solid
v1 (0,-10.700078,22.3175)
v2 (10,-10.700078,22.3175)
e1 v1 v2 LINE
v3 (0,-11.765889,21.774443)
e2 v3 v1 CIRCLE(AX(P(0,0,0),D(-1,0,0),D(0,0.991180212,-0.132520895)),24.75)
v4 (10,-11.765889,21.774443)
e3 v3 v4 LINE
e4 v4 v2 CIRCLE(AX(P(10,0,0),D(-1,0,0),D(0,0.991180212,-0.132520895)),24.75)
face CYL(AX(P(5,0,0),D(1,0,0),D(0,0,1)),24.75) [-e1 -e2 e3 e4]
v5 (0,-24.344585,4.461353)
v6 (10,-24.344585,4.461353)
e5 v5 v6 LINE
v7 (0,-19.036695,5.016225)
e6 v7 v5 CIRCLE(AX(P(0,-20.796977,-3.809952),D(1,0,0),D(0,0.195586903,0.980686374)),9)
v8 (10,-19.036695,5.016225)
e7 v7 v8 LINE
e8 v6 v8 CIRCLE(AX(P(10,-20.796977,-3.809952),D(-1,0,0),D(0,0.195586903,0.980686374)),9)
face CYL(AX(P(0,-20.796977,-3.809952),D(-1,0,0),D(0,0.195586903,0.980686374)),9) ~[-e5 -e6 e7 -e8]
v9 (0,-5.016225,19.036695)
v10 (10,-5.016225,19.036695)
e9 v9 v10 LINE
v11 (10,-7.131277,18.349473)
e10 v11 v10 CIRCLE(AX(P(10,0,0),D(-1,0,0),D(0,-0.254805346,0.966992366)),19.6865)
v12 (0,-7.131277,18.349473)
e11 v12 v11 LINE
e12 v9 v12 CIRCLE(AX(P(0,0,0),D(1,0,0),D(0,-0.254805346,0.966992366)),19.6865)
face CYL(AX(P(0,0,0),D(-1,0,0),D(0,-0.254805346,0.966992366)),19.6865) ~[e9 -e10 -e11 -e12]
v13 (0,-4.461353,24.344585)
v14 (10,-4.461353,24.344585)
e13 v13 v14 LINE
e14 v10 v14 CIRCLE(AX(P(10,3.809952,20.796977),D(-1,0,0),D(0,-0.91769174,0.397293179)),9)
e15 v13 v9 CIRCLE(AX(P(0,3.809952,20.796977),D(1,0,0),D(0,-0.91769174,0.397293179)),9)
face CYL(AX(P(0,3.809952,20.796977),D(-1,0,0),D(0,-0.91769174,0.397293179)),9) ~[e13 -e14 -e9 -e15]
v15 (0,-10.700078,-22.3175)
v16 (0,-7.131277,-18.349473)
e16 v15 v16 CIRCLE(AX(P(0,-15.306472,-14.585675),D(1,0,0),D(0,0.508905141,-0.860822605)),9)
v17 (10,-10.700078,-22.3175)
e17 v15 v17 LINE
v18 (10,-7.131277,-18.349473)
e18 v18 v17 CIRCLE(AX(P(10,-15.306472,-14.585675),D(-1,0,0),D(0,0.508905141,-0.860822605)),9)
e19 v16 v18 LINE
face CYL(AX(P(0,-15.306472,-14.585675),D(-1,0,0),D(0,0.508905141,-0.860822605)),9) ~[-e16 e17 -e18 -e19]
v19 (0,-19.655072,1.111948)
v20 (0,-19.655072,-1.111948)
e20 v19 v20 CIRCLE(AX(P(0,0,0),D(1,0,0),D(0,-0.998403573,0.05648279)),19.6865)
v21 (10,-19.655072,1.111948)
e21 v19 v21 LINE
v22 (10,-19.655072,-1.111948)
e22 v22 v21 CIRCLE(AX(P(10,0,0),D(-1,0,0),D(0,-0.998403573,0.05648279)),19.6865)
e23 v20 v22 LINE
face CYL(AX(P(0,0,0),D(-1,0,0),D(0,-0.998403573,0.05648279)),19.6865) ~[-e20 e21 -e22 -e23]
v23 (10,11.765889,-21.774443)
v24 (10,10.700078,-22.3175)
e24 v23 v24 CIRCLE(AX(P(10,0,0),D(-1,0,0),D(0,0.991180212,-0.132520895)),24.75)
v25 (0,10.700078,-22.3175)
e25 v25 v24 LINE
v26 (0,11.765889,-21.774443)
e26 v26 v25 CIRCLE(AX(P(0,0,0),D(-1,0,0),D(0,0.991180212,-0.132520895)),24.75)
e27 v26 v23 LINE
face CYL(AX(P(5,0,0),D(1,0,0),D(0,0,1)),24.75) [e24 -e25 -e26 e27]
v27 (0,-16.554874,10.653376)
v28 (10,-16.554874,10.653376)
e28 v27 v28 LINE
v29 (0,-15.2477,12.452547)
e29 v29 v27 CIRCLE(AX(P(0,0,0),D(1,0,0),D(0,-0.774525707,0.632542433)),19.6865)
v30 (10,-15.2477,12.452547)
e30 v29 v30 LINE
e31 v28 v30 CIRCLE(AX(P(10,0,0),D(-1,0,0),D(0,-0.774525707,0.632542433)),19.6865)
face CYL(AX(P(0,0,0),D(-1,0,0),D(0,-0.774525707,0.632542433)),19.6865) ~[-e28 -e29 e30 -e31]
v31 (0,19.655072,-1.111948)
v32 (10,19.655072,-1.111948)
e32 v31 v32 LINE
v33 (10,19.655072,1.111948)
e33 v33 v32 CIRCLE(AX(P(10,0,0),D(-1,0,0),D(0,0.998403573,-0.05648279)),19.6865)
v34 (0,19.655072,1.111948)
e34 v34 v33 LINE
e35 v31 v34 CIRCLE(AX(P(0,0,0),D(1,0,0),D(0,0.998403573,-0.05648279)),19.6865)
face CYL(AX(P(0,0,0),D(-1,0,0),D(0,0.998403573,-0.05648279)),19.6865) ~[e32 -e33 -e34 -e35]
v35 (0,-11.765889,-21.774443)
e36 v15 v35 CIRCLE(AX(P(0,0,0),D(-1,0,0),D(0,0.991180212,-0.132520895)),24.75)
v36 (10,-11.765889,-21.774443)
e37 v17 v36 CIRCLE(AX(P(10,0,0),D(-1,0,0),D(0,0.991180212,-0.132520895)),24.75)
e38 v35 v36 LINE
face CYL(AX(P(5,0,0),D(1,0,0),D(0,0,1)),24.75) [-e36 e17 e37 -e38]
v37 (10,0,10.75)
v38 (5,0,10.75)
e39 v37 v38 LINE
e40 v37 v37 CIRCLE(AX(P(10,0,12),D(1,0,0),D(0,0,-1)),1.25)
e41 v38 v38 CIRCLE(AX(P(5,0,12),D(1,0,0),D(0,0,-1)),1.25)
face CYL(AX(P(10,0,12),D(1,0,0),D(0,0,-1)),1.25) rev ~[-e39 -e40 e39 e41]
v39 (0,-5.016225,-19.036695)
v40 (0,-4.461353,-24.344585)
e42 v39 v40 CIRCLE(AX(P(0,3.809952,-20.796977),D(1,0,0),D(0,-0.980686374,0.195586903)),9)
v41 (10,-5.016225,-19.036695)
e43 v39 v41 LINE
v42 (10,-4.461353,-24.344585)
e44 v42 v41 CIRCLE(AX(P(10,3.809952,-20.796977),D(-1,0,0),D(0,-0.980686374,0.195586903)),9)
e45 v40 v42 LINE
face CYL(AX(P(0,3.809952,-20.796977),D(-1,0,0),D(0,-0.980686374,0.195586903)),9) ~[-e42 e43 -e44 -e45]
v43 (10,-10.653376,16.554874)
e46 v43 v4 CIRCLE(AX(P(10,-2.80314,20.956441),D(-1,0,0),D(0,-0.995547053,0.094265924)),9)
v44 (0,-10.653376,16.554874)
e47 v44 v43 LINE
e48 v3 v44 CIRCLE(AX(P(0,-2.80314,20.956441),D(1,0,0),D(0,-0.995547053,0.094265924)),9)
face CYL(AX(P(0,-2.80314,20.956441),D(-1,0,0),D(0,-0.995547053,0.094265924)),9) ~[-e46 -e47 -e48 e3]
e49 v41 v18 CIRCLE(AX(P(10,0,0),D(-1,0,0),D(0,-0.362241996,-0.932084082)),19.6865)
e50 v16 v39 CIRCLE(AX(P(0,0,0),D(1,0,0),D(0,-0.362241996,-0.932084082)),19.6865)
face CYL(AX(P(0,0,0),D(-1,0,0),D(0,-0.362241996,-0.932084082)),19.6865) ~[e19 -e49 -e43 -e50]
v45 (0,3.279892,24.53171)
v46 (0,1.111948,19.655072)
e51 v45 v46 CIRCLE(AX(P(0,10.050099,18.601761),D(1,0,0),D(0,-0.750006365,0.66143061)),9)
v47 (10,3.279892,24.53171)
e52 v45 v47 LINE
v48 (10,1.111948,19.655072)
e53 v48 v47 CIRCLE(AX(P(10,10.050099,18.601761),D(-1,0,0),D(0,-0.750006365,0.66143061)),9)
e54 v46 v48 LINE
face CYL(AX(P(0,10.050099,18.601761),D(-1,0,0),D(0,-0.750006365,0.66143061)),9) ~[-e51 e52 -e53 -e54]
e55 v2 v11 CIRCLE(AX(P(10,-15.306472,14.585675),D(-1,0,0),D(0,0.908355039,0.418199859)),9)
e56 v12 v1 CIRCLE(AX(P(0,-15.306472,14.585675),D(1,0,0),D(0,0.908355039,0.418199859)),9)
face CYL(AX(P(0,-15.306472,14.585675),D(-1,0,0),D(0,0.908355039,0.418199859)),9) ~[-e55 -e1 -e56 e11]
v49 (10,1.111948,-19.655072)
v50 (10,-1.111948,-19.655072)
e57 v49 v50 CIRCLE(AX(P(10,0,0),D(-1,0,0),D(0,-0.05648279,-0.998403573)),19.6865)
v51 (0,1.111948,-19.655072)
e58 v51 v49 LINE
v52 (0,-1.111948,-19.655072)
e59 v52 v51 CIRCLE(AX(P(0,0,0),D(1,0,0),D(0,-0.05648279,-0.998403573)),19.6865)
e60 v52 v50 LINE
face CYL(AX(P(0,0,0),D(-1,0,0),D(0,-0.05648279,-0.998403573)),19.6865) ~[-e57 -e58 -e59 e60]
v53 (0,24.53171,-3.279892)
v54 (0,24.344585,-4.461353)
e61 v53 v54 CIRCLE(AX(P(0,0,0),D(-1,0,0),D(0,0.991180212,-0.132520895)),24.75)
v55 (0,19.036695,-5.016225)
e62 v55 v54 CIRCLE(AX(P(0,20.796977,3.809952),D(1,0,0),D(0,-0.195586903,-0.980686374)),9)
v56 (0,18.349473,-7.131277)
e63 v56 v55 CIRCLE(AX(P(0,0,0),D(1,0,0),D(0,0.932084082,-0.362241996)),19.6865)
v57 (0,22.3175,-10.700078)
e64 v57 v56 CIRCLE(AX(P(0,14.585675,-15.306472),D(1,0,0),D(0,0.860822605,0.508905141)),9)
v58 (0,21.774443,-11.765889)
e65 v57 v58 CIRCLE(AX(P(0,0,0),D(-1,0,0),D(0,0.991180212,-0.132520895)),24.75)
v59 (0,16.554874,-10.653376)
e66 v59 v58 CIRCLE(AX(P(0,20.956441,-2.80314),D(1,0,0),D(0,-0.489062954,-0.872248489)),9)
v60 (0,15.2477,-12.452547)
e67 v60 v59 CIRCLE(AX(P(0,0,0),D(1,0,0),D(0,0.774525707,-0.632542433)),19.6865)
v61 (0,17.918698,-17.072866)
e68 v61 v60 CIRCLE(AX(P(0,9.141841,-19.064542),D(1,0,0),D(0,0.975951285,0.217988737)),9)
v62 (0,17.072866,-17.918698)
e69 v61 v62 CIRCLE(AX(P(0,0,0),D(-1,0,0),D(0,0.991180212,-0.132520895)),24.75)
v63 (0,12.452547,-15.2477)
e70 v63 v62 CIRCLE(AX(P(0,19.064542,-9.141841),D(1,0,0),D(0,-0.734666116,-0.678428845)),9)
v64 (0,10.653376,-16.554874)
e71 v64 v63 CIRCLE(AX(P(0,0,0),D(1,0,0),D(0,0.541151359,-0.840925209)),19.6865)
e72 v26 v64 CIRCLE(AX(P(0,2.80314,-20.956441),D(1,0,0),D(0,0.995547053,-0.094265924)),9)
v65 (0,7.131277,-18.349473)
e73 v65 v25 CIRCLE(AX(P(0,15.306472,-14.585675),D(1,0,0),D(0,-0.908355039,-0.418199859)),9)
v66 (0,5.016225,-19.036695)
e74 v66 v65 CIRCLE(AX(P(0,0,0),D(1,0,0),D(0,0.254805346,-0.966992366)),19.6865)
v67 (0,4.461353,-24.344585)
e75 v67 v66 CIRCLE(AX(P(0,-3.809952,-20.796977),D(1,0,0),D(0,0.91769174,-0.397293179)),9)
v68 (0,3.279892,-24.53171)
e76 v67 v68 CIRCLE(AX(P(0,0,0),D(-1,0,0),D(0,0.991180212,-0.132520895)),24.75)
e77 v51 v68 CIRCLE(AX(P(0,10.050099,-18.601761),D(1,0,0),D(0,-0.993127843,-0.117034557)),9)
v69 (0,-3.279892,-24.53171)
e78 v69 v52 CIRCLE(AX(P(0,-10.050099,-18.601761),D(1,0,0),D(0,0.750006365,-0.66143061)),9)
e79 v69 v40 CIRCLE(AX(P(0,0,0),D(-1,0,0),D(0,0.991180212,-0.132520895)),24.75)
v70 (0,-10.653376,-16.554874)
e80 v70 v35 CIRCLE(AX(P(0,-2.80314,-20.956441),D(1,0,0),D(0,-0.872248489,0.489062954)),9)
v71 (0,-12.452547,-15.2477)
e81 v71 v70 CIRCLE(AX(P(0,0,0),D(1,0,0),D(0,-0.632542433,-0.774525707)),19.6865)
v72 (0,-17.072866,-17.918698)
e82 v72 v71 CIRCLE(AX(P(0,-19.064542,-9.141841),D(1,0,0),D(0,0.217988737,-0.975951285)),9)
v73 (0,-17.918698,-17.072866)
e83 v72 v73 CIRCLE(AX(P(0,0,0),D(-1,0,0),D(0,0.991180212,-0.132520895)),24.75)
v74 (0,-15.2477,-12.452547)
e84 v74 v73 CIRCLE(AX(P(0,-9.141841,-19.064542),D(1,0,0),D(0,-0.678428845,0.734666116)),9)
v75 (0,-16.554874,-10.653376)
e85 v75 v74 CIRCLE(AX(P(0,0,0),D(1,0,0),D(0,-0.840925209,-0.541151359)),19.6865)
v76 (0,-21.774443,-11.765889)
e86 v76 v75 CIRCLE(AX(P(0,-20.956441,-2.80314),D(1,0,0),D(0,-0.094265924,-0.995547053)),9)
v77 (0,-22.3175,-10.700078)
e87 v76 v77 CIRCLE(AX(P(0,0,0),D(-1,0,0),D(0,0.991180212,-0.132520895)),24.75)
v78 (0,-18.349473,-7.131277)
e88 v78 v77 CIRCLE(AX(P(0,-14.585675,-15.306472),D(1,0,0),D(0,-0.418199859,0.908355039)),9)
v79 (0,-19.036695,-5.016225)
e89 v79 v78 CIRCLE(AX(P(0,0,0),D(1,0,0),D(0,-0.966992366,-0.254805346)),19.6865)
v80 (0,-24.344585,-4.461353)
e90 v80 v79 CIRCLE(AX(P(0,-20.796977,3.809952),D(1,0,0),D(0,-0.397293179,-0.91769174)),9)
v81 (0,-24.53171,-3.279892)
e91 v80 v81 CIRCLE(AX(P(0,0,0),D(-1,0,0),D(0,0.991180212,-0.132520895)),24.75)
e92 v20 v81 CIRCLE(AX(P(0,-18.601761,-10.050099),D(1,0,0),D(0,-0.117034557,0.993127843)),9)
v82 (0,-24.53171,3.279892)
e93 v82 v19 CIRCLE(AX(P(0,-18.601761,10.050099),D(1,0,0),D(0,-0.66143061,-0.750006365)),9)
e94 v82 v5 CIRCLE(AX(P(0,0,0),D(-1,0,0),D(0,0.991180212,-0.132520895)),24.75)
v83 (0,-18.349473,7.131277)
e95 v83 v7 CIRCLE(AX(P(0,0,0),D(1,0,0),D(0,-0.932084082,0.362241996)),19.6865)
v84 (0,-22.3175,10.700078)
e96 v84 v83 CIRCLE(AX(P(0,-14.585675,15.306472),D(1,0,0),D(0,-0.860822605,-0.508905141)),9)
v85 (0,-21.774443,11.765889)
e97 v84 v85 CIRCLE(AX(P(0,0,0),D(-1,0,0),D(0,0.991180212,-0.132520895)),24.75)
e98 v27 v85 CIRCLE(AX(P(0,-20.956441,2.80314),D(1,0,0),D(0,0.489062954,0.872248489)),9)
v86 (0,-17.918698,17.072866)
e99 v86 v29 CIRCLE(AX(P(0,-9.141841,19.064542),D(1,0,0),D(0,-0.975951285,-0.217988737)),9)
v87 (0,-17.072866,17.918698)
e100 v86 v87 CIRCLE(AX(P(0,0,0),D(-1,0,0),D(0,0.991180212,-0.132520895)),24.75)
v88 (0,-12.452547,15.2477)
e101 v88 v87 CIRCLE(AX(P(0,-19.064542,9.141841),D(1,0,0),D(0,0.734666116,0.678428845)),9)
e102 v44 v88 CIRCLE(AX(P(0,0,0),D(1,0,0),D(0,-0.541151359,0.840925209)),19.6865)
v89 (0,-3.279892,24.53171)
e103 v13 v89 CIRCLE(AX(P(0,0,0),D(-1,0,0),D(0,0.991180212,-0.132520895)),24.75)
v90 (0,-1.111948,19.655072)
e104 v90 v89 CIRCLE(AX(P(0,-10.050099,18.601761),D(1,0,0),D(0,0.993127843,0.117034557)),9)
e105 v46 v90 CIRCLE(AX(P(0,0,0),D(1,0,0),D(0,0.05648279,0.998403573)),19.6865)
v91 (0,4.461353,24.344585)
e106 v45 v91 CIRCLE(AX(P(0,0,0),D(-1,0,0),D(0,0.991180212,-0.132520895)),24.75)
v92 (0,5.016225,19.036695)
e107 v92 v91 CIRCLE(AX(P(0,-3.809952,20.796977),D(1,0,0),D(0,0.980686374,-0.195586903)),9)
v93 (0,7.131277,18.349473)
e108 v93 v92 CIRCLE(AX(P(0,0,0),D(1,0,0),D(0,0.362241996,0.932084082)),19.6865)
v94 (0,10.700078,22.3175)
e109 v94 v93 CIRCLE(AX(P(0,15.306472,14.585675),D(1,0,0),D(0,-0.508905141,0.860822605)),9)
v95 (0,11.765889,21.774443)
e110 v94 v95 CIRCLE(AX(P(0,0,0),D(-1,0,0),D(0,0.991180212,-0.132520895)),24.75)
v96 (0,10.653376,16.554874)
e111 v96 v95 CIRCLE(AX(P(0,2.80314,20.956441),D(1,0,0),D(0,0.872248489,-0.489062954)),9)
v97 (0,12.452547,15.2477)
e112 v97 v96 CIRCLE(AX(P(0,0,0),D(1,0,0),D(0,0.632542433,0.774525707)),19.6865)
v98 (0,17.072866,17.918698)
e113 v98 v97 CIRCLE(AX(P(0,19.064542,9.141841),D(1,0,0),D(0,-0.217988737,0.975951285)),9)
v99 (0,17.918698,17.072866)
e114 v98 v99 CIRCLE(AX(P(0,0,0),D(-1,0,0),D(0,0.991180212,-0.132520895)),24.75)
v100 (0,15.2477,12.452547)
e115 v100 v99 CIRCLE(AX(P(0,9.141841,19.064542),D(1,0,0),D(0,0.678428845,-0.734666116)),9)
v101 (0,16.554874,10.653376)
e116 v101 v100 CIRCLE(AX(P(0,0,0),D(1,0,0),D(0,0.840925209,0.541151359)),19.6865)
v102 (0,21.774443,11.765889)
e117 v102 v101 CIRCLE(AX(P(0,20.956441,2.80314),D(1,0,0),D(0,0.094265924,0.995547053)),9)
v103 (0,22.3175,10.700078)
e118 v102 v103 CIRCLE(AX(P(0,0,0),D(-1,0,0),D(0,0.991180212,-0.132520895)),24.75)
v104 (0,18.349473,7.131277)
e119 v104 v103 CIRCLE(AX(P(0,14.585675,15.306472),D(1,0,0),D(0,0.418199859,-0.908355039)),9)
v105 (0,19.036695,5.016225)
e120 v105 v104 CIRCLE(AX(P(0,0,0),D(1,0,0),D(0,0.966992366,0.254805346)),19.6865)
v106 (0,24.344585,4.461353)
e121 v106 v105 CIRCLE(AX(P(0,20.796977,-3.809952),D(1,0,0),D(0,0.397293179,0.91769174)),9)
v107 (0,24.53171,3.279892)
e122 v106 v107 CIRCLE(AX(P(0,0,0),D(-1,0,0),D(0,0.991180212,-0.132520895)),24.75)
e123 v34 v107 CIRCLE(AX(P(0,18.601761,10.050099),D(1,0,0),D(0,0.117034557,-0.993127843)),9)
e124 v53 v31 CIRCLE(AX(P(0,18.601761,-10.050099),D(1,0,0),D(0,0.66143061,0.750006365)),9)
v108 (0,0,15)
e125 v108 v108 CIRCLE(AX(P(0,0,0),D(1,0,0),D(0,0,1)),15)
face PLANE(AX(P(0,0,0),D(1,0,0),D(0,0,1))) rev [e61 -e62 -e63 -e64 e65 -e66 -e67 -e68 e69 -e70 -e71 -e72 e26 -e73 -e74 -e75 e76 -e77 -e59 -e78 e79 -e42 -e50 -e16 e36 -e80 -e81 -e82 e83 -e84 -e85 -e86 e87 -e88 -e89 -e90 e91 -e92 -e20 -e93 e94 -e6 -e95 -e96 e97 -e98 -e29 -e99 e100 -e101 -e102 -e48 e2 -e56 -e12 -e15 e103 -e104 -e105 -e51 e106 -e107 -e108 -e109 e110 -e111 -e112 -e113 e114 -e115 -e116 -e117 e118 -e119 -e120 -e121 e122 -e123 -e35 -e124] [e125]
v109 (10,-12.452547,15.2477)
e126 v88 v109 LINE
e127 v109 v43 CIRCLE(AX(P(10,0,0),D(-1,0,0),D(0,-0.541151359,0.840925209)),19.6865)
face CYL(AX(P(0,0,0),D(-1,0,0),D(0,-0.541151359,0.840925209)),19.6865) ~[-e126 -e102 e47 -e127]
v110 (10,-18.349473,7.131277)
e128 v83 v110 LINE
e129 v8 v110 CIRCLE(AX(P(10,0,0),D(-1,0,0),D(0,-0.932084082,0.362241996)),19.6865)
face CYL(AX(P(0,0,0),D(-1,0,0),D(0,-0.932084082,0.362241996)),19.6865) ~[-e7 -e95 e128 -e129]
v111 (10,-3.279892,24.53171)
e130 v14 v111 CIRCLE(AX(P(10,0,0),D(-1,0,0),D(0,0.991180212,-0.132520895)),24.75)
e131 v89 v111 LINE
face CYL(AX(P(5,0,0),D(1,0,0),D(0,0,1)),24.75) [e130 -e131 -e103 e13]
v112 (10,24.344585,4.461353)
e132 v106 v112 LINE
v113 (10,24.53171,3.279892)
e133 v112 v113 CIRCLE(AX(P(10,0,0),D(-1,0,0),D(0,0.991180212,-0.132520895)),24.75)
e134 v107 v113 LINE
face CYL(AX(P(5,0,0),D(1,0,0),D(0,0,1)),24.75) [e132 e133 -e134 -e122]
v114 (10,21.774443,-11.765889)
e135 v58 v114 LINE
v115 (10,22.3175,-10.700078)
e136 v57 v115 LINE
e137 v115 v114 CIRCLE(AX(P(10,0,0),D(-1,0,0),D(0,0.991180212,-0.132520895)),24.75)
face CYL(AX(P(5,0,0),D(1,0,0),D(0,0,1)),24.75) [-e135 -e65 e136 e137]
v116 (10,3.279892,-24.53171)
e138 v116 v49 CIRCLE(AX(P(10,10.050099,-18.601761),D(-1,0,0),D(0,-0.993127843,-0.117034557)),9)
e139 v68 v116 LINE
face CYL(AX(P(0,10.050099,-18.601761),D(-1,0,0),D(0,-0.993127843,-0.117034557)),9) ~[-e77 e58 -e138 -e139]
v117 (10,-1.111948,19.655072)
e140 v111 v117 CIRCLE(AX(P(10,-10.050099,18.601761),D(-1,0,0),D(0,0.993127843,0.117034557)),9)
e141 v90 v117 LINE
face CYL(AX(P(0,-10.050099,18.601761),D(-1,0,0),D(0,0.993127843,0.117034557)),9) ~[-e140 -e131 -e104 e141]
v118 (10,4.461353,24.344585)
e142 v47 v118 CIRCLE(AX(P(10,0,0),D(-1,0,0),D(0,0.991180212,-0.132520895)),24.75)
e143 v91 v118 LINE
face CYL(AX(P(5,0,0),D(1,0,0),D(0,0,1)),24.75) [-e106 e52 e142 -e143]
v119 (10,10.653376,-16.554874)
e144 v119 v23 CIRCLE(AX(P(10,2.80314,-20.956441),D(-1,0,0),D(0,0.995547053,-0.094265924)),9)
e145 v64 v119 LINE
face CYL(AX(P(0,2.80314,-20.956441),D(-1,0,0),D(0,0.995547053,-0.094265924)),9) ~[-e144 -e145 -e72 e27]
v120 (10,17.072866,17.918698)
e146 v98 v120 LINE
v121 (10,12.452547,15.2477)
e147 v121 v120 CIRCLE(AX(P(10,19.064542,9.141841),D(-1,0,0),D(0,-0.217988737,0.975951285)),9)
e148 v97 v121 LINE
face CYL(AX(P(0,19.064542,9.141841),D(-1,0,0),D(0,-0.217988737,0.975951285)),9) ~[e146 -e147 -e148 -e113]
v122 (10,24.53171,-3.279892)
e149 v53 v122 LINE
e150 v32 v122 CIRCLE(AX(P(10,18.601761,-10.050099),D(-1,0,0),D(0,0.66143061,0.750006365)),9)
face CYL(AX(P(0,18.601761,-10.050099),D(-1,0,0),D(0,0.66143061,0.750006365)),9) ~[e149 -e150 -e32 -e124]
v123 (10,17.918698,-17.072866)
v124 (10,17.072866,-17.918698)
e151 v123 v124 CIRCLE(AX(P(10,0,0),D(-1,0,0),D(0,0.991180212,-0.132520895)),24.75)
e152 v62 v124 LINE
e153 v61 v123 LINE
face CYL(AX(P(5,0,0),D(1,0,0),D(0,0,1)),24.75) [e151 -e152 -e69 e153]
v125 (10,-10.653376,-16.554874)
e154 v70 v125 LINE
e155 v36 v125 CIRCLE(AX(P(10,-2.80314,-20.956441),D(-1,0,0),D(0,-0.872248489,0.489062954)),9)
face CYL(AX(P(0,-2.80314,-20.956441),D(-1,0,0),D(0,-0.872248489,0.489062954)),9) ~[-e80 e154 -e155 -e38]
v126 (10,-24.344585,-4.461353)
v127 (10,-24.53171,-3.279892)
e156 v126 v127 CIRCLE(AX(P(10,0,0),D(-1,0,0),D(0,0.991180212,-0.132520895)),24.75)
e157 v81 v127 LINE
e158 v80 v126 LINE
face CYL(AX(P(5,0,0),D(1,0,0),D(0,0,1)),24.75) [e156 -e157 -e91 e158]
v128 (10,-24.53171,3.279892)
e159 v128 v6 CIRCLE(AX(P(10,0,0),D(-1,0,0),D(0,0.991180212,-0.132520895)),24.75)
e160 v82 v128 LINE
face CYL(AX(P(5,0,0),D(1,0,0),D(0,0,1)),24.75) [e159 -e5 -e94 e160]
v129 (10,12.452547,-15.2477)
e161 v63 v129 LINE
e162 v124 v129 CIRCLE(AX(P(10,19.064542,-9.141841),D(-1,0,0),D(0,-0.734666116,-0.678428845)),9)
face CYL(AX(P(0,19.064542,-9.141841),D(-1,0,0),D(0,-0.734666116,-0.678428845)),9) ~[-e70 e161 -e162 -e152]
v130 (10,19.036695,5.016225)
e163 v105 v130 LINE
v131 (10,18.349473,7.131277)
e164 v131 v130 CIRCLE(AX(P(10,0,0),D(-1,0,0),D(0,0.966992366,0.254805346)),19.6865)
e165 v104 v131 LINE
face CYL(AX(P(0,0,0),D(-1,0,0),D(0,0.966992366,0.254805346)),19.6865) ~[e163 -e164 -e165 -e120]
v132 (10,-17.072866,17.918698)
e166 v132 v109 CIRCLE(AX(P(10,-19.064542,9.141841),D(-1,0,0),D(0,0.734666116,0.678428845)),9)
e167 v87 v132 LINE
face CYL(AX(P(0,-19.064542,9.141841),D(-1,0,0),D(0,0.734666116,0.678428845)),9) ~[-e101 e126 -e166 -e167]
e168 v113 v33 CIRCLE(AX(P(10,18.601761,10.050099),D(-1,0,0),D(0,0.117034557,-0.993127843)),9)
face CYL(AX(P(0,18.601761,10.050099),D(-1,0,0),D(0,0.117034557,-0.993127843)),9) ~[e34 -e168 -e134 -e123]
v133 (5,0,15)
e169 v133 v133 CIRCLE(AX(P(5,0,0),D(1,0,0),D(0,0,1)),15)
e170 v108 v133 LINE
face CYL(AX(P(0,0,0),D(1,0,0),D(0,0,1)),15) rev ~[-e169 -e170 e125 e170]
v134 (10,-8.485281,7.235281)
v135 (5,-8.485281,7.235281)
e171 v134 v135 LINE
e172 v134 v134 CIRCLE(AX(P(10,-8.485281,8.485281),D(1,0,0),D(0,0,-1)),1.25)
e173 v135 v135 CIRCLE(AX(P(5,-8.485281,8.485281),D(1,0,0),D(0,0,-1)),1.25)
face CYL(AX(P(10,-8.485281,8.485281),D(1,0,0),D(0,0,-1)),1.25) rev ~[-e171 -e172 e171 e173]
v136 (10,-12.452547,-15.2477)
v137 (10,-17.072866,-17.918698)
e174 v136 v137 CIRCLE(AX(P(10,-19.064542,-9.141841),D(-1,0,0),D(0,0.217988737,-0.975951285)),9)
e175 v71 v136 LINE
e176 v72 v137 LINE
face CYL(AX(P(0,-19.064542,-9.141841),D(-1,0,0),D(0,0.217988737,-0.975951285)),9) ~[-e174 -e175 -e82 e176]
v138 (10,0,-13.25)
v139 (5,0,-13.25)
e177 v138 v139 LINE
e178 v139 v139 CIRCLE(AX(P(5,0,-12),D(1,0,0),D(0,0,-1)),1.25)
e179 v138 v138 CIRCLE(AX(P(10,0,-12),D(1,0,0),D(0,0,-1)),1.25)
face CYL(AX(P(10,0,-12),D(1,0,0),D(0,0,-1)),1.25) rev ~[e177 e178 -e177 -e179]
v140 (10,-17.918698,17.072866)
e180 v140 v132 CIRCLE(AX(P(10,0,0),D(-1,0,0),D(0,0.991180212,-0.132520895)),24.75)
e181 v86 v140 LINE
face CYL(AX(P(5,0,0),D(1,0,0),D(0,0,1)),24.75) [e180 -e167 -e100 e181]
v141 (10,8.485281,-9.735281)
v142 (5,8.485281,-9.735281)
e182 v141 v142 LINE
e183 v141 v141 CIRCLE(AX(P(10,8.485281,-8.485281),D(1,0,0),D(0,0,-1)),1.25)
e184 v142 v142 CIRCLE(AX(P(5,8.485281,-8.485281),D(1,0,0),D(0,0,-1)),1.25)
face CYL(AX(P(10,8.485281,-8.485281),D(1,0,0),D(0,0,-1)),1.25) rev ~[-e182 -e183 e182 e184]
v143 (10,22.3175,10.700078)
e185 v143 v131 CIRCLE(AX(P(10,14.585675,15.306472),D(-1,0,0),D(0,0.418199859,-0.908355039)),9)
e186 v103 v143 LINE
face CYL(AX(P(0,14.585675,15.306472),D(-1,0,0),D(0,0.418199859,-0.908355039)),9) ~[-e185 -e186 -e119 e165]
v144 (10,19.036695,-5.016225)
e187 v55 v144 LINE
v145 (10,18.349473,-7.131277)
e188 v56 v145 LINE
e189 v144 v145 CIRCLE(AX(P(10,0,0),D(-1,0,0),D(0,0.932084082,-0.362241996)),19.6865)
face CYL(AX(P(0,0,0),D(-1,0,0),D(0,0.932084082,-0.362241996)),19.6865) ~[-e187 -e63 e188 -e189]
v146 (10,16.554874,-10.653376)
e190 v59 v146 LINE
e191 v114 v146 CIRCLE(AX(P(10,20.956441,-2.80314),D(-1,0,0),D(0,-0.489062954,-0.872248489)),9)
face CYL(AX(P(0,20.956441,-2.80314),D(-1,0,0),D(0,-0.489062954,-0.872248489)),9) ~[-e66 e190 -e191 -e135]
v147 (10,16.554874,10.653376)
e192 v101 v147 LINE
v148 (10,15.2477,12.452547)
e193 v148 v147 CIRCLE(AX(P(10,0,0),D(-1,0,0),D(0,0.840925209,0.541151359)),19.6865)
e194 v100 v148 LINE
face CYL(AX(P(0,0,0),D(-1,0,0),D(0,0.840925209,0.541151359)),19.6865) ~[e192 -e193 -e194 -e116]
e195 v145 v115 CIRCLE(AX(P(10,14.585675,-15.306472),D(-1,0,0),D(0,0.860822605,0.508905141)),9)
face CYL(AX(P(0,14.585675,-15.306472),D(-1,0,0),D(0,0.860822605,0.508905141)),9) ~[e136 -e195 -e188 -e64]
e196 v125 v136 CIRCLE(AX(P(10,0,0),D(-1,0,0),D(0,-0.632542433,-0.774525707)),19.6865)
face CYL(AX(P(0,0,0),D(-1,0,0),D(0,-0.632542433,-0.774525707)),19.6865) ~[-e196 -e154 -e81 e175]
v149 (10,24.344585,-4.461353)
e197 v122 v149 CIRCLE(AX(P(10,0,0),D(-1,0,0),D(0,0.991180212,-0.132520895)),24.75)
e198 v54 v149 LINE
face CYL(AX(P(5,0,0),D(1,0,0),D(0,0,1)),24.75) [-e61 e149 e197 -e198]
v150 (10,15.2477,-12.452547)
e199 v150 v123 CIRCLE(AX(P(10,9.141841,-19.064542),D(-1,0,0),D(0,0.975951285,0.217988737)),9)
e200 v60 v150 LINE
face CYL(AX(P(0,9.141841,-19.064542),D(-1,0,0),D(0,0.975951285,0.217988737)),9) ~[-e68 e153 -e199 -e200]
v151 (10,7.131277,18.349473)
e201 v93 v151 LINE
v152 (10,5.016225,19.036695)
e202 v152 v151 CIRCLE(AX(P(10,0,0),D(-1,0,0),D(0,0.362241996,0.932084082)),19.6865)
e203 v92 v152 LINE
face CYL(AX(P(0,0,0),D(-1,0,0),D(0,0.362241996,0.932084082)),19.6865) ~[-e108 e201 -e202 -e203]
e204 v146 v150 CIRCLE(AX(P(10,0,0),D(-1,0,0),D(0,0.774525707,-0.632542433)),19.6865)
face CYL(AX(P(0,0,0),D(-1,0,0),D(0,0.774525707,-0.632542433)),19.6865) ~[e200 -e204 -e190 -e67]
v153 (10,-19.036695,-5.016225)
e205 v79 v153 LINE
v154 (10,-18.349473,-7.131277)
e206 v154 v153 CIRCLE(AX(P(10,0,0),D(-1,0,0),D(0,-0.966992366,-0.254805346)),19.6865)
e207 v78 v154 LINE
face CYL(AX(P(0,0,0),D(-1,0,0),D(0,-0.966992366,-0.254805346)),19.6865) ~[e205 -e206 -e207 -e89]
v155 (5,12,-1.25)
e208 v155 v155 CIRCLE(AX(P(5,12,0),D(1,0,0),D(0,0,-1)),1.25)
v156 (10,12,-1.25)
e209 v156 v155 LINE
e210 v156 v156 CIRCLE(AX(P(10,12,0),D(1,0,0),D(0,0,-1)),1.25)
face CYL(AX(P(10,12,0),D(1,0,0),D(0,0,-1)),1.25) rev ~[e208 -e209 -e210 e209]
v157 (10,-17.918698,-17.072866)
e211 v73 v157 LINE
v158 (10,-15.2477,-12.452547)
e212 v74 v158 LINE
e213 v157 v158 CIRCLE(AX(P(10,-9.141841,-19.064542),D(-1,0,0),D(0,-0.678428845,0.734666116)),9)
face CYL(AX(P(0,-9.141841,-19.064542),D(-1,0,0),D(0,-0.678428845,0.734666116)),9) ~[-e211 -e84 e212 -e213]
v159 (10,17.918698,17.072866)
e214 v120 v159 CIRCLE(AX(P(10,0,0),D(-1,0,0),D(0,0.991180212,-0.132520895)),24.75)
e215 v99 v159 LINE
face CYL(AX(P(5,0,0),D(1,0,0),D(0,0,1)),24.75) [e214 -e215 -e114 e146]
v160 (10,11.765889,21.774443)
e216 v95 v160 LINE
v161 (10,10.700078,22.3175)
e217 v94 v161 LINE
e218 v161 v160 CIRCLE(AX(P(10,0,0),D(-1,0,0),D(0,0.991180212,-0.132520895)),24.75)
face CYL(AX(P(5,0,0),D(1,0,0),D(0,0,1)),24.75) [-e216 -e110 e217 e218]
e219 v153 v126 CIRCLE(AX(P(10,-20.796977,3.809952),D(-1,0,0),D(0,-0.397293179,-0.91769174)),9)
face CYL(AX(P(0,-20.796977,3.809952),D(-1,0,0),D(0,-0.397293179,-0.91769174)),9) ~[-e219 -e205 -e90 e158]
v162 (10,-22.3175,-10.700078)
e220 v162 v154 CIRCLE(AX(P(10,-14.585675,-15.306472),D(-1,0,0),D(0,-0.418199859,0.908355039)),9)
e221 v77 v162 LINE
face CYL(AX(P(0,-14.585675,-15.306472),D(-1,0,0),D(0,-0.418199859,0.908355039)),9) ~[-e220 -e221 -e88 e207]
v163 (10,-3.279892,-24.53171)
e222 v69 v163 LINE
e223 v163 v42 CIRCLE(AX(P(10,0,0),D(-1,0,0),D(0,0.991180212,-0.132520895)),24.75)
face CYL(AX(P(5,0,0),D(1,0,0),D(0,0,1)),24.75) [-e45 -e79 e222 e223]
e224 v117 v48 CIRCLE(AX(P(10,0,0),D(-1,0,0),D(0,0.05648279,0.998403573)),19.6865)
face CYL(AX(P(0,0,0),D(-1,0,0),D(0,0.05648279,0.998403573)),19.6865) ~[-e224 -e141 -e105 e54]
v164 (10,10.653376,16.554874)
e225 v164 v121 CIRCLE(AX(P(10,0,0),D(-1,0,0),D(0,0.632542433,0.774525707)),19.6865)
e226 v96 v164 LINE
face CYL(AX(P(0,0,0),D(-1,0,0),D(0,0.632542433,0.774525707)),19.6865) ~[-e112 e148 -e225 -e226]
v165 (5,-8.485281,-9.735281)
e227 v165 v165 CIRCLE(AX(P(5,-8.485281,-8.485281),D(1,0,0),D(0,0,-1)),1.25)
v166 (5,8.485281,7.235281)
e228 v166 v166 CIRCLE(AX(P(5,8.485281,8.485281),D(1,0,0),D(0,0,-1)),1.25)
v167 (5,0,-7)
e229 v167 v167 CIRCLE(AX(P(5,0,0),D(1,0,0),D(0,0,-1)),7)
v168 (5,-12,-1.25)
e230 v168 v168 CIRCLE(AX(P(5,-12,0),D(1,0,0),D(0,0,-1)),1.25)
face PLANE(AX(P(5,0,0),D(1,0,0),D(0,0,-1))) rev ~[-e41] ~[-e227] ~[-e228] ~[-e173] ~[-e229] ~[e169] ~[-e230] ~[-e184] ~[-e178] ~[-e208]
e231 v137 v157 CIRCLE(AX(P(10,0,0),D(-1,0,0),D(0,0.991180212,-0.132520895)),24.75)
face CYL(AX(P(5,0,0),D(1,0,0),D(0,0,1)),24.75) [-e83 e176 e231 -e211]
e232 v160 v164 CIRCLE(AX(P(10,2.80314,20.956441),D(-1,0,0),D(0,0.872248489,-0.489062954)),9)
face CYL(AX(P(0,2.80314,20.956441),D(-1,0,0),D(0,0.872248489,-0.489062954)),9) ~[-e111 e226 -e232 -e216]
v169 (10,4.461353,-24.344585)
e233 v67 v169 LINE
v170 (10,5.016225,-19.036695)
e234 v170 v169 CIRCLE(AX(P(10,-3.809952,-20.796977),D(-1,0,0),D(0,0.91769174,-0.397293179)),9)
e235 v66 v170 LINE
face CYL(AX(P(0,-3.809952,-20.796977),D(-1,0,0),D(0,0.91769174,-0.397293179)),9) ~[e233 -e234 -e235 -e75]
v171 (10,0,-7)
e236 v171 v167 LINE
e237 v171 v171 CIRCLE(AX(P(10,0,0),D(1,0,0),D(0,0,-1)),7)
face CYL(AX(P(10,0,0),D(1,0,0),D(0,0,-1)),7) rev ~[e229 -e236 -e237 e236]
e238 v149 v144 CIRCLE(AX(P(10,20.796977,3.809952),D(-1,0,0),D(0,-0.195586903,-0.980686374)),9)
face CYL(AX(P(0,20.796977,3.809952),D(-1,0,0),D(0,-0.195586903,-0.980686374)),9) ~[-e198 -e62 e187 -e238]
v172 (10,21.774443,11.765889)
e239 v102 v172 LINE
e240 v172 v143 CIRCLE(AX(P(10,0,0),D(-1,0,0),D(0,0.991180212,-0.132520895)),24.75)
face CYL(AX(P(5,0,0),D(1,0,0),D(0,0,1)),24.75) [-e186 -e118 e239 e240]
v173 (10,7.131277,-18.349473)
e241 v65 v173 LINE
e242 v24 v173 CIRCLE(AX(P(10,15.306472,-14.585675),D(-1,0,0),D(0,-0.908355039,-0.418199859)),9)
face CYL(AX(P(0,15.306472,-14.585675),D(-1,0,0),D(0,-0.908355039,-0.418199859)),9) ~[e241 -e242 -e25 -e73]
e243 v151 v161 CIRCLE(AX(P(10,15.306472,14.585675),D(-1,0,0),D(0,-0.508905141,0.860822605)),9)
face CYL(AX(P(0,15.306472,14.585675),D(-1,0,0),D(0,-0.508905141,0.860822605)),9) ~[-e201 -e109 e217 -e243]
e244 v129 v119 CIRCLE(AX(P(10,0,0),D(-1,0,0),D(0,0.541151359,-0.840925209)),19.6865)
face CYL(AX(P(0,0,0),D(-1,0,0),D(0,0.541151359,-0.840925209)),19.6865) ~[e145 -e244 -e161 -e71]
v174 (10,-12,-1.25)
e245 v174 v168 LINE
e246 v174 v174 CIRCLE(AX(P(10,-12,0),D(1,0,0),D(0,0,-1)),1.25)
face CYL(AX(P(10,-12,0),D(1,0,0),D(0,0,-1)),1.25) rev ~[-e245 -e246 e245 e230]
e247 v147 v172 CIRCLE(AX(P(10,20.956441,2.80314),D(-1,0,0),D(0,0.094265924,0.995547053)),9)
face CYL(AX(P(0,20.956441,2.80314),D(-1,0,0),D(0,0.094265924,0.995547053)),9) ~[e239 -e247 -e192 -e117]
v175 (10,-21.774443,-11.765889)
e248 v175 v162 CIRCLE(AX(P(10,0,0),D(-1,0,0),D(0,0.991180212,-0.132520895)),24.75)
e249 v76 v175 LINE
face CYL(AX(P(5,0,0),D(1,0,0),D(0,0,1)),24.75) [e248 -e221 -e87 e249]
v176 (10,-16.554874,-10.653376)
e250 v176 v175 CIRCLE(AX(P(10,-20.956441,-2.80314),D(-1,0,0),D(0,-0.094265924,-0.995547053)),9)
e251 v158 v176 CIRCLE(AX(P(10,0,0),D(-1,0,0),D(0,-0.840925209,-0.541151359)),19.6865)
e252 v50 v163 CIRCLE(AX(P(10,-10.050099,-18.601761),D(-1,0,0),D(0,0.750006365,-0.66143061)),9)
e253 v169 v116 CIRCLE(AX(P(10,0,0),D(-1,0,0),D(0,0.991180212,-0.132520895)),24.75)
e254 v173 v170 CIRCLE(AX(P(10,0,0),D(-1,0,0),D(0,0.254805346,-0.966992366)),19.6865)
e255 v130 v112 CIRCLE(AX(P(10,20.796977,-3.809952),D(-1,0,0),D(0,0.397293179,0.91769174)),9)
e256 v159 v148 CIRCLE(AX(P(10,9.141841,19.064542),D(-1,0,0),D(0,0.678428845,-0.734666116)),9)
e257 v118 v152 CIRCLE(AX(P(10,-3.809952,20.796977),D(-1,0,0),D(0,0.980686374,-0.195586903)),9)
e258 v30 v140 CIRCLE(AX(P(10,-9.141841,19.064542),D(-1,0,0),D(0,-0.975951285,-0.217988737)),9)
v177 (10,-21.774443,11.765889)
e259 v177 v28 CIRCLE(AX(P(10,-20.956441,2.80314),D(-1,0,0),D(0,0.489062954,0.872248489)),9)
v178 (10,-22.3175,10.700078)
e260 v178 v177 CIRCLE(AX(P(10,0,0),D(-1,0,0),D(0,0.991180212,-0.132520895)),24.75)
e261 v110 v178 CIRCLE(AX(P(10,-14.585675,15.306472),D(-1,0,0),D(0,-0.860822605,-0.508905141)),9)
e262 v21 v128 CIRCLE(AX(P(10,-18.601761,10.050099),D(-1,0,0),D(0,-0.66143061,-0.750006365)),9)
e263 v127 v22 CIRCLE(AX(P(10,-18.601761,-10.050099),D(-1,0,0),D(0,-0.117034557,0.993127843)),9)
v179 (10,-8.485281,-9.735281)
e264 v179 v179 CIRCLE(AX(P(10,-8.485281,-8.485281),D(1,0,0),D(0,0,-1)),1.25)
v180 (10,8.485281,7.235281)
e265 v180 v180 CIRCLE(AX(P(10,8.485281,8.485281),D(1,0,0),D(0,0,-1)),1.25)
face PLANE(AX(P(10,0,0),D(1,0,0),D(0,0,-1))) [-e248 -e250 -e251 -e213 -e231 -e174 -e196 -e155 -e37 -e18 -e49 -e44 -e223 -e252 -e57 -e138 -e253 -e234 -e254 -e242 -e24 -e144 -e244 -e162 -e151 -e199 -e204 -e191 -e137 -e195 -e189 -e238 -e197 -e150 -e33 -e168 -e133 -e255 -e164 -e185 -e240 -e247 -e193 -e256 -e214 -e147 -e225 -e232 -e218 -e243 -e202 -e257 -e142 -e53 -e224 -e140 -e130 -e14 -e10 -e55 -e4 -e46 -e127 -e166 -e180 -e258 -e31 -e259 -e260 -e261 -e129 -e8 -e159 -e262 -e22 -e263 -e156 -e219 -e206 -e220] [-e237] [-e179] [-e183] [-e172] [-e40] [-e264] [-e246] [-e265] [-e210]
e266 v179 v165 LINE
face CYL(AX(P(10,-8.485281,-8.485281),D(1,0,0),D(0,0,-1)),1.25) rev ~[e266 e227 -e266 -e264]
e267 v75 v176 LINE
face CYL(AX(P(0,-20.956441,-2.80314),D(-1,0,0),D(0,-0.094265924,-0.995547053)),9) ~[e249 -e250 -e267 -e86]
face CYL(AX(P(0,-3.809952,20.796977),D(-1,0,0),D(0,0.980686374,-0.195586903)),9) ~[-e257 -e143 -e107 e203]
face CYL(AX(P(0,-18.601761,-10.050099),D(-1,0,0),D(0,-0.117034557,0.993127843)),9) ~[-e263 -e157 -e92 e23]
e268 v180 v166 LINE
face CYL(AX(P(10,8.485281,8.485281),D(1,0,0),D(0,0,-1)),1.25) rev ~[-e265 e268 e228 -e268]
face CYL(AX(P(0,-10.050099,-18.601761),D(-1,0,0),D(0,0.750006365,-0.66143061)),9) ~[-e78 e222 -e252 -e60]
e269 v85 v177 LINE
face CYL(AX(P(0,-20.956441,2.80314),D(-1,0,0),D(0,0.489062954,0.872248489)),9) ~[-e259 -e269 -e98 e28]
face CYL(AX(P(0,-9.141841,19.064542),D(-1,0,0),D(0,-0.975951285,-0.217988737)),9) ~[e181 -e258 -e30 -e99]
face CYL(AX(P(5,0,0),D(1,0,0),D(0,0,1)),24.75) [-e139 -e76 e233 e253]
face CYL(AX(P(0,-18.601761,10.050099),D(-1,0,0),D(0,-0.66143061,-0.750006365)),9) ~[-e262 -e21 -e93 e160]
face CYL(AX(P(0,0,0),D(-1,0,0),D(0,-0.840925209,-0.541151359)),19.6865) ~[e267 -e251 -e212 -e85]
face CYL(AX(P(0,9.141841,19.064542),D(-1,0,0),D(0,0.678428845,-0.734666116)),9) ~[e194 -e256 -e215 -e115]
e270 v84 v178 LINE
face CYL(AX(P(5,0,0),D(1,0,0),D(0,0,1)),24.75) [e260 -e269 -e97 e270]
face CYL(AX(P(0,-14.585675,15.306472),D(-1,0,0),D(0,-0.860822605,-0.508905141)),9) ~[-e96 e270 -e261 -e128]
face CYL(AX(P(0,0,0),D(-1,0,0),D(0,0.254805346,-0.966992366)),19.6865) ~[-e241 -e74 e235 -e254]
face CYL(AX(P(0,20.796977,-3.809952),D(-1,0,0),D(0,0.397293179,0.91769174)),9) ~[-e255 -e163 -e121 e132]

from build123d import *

# Parameters (mm, degrees)
BASPROSKE_W         = 10
BASPROSKE_H         = 24.75
TOOTHCUT_DEPTH      = 37.402266413
TEETHCUTS_COUNT     = 20
TEETHCUTS_ANGLE     = 342
BORSKE_R            = 15
BORE_DEPTH          = 50.0000508
SKETCH1_R           = 15
BOSS_EXTRUDE1_DEPTH = 5
SKETCH2_R           = 7
CUT_EXTRUDE1_DEPTH  = 5
SKETCH3_R           = 1.25
CUT_EXTRUDE2_DEPTH  = 5


with BuildPart() as part:
    # BasProSke → Base-Revolve (revolve)
    with BuildSketch(Plane(origin=(0, 0, 0), x_dir=(1, 0, 0), z_dir=(0, 1, 0)), mode=Mode.PRIVATE) as base_revolve_sk:
        with Locations((5, 12.375)):
            Rectangle(BASPROSKE_W, BASPROSKE_H)
    revolve(base_revolve_sk.sketch.rotate(Axis((-10, 0, 0), (1, 0, 0)), 180), axis=Axis((-10, 0, 0), (1, 0, 0)))

    # TooCutSke → ToothCut (cut, through all)
    with BuildSketch(Plane(origin=(0, 0, 0), x_dir=(0, 0, -1), z_dir=(1, 0, 0))):
        with BuildLine():
            ThreePointArc((1.111948432, 19.655071939), (0, 19.6865), (-1.111948432, 19.655071939))
            ThreePointArc((-1.111948432, 19.655071939), (-1.832349961, 22.271720111), (-3.300041734, 24.55463642))
            ThreePointArc((-3.300041734, 24.55463642), (0, 24.7754), (3.300041734, 24.55463642))
            ThreePointArc((3.300041734, 24.55463642), (1.832349961, 22.271720111), (1.111948432, 19.655071939))
        make_face()
    toothcut = extrude(amount=TOOTHCUT_DEPTH, mode=Mode.SUBTRACT)

    # TeethCuts: ToothCut ×20 about axis
    teethcuts_axis = Axis((-10, 0, 0), (1, 0, 0))
    for i in range(1, TEETHCUTS_COUNT):
        add(toothcut.rotate(teethcuts_axis, i * TEETHCUTS_ANGLE / (TEETHCUTS_COUNT - 1)), mode=Mode.SUBTRACT)

    # BorSke → Bore (cut, symmetric)
    with BuildSketch(Plane(origin=(0, 0, 0), x_dir=(0, 0, -1), z_dir=(1, 0, 0))):
        with Locations(Location((0, 0, 0), (0, 0, 180))):
            Circle(BORSKE_R)
    extrude(amount=BORE_DEPTH, both=True, mode=Mode.SUBTRACT)

    # Sketch1 → Boss-Extrude1 (add)
    with BuildSketch(Plane(origin=(10, 0, 0), x_dir=(0, 0, -1), z_dir=(1, 0, 0))):
        Circle(SKETCH1_R)
    extrude(amount=-BOSS_EXTRUDE1_DEPTH)

    # Sketch2 → Cut-Extrude1 (cut)
    with BuildSketch(Plane(origin=(10, 0, 0), x_dir=(0, 0, -1), z_dir=(1, 0, 0))):
        Circle(SKETCH2_R)
    extrude(amount=-CUT_EXTRUDE1_DEPTH, mode=Mode.SUBTRACT)

    # Sketch3 → Cut-Extrude2 (cut)
    with BuildSketch(Plane(origin=(10, 0, 0), x_dir=(0, 0, -1), z_dir=(1, 0, 0))):
        with Locations((0, 12)):
            Circle(SKETCH3_R)
        with Locations((8.485281374, 8.485281374)):
            Circle(SKETCH3_R)
        with Locations((12, 0)):
            Circle(SKETCH3_R)
        with Locations((8.485281374, -8.485281374)):
            Circle(SKETCH3_R)
        with Locations((0, -12)):
            Circle(SKETCH3_R)
        with Locations((-8.485281374, -8.485281374)):
            Circle(SKETCH3_R)
        with Locations((-12, 0)):
            Circle(SKETCH3_R)
        with Locations((-8.485281374, 8.485281374)):
            Circle(SKETCH3_R)
    extrude(amount=-CUT_EXTRUDE2_DEPTH, mode=Mode.SUBTRACT)


solid = part.part
